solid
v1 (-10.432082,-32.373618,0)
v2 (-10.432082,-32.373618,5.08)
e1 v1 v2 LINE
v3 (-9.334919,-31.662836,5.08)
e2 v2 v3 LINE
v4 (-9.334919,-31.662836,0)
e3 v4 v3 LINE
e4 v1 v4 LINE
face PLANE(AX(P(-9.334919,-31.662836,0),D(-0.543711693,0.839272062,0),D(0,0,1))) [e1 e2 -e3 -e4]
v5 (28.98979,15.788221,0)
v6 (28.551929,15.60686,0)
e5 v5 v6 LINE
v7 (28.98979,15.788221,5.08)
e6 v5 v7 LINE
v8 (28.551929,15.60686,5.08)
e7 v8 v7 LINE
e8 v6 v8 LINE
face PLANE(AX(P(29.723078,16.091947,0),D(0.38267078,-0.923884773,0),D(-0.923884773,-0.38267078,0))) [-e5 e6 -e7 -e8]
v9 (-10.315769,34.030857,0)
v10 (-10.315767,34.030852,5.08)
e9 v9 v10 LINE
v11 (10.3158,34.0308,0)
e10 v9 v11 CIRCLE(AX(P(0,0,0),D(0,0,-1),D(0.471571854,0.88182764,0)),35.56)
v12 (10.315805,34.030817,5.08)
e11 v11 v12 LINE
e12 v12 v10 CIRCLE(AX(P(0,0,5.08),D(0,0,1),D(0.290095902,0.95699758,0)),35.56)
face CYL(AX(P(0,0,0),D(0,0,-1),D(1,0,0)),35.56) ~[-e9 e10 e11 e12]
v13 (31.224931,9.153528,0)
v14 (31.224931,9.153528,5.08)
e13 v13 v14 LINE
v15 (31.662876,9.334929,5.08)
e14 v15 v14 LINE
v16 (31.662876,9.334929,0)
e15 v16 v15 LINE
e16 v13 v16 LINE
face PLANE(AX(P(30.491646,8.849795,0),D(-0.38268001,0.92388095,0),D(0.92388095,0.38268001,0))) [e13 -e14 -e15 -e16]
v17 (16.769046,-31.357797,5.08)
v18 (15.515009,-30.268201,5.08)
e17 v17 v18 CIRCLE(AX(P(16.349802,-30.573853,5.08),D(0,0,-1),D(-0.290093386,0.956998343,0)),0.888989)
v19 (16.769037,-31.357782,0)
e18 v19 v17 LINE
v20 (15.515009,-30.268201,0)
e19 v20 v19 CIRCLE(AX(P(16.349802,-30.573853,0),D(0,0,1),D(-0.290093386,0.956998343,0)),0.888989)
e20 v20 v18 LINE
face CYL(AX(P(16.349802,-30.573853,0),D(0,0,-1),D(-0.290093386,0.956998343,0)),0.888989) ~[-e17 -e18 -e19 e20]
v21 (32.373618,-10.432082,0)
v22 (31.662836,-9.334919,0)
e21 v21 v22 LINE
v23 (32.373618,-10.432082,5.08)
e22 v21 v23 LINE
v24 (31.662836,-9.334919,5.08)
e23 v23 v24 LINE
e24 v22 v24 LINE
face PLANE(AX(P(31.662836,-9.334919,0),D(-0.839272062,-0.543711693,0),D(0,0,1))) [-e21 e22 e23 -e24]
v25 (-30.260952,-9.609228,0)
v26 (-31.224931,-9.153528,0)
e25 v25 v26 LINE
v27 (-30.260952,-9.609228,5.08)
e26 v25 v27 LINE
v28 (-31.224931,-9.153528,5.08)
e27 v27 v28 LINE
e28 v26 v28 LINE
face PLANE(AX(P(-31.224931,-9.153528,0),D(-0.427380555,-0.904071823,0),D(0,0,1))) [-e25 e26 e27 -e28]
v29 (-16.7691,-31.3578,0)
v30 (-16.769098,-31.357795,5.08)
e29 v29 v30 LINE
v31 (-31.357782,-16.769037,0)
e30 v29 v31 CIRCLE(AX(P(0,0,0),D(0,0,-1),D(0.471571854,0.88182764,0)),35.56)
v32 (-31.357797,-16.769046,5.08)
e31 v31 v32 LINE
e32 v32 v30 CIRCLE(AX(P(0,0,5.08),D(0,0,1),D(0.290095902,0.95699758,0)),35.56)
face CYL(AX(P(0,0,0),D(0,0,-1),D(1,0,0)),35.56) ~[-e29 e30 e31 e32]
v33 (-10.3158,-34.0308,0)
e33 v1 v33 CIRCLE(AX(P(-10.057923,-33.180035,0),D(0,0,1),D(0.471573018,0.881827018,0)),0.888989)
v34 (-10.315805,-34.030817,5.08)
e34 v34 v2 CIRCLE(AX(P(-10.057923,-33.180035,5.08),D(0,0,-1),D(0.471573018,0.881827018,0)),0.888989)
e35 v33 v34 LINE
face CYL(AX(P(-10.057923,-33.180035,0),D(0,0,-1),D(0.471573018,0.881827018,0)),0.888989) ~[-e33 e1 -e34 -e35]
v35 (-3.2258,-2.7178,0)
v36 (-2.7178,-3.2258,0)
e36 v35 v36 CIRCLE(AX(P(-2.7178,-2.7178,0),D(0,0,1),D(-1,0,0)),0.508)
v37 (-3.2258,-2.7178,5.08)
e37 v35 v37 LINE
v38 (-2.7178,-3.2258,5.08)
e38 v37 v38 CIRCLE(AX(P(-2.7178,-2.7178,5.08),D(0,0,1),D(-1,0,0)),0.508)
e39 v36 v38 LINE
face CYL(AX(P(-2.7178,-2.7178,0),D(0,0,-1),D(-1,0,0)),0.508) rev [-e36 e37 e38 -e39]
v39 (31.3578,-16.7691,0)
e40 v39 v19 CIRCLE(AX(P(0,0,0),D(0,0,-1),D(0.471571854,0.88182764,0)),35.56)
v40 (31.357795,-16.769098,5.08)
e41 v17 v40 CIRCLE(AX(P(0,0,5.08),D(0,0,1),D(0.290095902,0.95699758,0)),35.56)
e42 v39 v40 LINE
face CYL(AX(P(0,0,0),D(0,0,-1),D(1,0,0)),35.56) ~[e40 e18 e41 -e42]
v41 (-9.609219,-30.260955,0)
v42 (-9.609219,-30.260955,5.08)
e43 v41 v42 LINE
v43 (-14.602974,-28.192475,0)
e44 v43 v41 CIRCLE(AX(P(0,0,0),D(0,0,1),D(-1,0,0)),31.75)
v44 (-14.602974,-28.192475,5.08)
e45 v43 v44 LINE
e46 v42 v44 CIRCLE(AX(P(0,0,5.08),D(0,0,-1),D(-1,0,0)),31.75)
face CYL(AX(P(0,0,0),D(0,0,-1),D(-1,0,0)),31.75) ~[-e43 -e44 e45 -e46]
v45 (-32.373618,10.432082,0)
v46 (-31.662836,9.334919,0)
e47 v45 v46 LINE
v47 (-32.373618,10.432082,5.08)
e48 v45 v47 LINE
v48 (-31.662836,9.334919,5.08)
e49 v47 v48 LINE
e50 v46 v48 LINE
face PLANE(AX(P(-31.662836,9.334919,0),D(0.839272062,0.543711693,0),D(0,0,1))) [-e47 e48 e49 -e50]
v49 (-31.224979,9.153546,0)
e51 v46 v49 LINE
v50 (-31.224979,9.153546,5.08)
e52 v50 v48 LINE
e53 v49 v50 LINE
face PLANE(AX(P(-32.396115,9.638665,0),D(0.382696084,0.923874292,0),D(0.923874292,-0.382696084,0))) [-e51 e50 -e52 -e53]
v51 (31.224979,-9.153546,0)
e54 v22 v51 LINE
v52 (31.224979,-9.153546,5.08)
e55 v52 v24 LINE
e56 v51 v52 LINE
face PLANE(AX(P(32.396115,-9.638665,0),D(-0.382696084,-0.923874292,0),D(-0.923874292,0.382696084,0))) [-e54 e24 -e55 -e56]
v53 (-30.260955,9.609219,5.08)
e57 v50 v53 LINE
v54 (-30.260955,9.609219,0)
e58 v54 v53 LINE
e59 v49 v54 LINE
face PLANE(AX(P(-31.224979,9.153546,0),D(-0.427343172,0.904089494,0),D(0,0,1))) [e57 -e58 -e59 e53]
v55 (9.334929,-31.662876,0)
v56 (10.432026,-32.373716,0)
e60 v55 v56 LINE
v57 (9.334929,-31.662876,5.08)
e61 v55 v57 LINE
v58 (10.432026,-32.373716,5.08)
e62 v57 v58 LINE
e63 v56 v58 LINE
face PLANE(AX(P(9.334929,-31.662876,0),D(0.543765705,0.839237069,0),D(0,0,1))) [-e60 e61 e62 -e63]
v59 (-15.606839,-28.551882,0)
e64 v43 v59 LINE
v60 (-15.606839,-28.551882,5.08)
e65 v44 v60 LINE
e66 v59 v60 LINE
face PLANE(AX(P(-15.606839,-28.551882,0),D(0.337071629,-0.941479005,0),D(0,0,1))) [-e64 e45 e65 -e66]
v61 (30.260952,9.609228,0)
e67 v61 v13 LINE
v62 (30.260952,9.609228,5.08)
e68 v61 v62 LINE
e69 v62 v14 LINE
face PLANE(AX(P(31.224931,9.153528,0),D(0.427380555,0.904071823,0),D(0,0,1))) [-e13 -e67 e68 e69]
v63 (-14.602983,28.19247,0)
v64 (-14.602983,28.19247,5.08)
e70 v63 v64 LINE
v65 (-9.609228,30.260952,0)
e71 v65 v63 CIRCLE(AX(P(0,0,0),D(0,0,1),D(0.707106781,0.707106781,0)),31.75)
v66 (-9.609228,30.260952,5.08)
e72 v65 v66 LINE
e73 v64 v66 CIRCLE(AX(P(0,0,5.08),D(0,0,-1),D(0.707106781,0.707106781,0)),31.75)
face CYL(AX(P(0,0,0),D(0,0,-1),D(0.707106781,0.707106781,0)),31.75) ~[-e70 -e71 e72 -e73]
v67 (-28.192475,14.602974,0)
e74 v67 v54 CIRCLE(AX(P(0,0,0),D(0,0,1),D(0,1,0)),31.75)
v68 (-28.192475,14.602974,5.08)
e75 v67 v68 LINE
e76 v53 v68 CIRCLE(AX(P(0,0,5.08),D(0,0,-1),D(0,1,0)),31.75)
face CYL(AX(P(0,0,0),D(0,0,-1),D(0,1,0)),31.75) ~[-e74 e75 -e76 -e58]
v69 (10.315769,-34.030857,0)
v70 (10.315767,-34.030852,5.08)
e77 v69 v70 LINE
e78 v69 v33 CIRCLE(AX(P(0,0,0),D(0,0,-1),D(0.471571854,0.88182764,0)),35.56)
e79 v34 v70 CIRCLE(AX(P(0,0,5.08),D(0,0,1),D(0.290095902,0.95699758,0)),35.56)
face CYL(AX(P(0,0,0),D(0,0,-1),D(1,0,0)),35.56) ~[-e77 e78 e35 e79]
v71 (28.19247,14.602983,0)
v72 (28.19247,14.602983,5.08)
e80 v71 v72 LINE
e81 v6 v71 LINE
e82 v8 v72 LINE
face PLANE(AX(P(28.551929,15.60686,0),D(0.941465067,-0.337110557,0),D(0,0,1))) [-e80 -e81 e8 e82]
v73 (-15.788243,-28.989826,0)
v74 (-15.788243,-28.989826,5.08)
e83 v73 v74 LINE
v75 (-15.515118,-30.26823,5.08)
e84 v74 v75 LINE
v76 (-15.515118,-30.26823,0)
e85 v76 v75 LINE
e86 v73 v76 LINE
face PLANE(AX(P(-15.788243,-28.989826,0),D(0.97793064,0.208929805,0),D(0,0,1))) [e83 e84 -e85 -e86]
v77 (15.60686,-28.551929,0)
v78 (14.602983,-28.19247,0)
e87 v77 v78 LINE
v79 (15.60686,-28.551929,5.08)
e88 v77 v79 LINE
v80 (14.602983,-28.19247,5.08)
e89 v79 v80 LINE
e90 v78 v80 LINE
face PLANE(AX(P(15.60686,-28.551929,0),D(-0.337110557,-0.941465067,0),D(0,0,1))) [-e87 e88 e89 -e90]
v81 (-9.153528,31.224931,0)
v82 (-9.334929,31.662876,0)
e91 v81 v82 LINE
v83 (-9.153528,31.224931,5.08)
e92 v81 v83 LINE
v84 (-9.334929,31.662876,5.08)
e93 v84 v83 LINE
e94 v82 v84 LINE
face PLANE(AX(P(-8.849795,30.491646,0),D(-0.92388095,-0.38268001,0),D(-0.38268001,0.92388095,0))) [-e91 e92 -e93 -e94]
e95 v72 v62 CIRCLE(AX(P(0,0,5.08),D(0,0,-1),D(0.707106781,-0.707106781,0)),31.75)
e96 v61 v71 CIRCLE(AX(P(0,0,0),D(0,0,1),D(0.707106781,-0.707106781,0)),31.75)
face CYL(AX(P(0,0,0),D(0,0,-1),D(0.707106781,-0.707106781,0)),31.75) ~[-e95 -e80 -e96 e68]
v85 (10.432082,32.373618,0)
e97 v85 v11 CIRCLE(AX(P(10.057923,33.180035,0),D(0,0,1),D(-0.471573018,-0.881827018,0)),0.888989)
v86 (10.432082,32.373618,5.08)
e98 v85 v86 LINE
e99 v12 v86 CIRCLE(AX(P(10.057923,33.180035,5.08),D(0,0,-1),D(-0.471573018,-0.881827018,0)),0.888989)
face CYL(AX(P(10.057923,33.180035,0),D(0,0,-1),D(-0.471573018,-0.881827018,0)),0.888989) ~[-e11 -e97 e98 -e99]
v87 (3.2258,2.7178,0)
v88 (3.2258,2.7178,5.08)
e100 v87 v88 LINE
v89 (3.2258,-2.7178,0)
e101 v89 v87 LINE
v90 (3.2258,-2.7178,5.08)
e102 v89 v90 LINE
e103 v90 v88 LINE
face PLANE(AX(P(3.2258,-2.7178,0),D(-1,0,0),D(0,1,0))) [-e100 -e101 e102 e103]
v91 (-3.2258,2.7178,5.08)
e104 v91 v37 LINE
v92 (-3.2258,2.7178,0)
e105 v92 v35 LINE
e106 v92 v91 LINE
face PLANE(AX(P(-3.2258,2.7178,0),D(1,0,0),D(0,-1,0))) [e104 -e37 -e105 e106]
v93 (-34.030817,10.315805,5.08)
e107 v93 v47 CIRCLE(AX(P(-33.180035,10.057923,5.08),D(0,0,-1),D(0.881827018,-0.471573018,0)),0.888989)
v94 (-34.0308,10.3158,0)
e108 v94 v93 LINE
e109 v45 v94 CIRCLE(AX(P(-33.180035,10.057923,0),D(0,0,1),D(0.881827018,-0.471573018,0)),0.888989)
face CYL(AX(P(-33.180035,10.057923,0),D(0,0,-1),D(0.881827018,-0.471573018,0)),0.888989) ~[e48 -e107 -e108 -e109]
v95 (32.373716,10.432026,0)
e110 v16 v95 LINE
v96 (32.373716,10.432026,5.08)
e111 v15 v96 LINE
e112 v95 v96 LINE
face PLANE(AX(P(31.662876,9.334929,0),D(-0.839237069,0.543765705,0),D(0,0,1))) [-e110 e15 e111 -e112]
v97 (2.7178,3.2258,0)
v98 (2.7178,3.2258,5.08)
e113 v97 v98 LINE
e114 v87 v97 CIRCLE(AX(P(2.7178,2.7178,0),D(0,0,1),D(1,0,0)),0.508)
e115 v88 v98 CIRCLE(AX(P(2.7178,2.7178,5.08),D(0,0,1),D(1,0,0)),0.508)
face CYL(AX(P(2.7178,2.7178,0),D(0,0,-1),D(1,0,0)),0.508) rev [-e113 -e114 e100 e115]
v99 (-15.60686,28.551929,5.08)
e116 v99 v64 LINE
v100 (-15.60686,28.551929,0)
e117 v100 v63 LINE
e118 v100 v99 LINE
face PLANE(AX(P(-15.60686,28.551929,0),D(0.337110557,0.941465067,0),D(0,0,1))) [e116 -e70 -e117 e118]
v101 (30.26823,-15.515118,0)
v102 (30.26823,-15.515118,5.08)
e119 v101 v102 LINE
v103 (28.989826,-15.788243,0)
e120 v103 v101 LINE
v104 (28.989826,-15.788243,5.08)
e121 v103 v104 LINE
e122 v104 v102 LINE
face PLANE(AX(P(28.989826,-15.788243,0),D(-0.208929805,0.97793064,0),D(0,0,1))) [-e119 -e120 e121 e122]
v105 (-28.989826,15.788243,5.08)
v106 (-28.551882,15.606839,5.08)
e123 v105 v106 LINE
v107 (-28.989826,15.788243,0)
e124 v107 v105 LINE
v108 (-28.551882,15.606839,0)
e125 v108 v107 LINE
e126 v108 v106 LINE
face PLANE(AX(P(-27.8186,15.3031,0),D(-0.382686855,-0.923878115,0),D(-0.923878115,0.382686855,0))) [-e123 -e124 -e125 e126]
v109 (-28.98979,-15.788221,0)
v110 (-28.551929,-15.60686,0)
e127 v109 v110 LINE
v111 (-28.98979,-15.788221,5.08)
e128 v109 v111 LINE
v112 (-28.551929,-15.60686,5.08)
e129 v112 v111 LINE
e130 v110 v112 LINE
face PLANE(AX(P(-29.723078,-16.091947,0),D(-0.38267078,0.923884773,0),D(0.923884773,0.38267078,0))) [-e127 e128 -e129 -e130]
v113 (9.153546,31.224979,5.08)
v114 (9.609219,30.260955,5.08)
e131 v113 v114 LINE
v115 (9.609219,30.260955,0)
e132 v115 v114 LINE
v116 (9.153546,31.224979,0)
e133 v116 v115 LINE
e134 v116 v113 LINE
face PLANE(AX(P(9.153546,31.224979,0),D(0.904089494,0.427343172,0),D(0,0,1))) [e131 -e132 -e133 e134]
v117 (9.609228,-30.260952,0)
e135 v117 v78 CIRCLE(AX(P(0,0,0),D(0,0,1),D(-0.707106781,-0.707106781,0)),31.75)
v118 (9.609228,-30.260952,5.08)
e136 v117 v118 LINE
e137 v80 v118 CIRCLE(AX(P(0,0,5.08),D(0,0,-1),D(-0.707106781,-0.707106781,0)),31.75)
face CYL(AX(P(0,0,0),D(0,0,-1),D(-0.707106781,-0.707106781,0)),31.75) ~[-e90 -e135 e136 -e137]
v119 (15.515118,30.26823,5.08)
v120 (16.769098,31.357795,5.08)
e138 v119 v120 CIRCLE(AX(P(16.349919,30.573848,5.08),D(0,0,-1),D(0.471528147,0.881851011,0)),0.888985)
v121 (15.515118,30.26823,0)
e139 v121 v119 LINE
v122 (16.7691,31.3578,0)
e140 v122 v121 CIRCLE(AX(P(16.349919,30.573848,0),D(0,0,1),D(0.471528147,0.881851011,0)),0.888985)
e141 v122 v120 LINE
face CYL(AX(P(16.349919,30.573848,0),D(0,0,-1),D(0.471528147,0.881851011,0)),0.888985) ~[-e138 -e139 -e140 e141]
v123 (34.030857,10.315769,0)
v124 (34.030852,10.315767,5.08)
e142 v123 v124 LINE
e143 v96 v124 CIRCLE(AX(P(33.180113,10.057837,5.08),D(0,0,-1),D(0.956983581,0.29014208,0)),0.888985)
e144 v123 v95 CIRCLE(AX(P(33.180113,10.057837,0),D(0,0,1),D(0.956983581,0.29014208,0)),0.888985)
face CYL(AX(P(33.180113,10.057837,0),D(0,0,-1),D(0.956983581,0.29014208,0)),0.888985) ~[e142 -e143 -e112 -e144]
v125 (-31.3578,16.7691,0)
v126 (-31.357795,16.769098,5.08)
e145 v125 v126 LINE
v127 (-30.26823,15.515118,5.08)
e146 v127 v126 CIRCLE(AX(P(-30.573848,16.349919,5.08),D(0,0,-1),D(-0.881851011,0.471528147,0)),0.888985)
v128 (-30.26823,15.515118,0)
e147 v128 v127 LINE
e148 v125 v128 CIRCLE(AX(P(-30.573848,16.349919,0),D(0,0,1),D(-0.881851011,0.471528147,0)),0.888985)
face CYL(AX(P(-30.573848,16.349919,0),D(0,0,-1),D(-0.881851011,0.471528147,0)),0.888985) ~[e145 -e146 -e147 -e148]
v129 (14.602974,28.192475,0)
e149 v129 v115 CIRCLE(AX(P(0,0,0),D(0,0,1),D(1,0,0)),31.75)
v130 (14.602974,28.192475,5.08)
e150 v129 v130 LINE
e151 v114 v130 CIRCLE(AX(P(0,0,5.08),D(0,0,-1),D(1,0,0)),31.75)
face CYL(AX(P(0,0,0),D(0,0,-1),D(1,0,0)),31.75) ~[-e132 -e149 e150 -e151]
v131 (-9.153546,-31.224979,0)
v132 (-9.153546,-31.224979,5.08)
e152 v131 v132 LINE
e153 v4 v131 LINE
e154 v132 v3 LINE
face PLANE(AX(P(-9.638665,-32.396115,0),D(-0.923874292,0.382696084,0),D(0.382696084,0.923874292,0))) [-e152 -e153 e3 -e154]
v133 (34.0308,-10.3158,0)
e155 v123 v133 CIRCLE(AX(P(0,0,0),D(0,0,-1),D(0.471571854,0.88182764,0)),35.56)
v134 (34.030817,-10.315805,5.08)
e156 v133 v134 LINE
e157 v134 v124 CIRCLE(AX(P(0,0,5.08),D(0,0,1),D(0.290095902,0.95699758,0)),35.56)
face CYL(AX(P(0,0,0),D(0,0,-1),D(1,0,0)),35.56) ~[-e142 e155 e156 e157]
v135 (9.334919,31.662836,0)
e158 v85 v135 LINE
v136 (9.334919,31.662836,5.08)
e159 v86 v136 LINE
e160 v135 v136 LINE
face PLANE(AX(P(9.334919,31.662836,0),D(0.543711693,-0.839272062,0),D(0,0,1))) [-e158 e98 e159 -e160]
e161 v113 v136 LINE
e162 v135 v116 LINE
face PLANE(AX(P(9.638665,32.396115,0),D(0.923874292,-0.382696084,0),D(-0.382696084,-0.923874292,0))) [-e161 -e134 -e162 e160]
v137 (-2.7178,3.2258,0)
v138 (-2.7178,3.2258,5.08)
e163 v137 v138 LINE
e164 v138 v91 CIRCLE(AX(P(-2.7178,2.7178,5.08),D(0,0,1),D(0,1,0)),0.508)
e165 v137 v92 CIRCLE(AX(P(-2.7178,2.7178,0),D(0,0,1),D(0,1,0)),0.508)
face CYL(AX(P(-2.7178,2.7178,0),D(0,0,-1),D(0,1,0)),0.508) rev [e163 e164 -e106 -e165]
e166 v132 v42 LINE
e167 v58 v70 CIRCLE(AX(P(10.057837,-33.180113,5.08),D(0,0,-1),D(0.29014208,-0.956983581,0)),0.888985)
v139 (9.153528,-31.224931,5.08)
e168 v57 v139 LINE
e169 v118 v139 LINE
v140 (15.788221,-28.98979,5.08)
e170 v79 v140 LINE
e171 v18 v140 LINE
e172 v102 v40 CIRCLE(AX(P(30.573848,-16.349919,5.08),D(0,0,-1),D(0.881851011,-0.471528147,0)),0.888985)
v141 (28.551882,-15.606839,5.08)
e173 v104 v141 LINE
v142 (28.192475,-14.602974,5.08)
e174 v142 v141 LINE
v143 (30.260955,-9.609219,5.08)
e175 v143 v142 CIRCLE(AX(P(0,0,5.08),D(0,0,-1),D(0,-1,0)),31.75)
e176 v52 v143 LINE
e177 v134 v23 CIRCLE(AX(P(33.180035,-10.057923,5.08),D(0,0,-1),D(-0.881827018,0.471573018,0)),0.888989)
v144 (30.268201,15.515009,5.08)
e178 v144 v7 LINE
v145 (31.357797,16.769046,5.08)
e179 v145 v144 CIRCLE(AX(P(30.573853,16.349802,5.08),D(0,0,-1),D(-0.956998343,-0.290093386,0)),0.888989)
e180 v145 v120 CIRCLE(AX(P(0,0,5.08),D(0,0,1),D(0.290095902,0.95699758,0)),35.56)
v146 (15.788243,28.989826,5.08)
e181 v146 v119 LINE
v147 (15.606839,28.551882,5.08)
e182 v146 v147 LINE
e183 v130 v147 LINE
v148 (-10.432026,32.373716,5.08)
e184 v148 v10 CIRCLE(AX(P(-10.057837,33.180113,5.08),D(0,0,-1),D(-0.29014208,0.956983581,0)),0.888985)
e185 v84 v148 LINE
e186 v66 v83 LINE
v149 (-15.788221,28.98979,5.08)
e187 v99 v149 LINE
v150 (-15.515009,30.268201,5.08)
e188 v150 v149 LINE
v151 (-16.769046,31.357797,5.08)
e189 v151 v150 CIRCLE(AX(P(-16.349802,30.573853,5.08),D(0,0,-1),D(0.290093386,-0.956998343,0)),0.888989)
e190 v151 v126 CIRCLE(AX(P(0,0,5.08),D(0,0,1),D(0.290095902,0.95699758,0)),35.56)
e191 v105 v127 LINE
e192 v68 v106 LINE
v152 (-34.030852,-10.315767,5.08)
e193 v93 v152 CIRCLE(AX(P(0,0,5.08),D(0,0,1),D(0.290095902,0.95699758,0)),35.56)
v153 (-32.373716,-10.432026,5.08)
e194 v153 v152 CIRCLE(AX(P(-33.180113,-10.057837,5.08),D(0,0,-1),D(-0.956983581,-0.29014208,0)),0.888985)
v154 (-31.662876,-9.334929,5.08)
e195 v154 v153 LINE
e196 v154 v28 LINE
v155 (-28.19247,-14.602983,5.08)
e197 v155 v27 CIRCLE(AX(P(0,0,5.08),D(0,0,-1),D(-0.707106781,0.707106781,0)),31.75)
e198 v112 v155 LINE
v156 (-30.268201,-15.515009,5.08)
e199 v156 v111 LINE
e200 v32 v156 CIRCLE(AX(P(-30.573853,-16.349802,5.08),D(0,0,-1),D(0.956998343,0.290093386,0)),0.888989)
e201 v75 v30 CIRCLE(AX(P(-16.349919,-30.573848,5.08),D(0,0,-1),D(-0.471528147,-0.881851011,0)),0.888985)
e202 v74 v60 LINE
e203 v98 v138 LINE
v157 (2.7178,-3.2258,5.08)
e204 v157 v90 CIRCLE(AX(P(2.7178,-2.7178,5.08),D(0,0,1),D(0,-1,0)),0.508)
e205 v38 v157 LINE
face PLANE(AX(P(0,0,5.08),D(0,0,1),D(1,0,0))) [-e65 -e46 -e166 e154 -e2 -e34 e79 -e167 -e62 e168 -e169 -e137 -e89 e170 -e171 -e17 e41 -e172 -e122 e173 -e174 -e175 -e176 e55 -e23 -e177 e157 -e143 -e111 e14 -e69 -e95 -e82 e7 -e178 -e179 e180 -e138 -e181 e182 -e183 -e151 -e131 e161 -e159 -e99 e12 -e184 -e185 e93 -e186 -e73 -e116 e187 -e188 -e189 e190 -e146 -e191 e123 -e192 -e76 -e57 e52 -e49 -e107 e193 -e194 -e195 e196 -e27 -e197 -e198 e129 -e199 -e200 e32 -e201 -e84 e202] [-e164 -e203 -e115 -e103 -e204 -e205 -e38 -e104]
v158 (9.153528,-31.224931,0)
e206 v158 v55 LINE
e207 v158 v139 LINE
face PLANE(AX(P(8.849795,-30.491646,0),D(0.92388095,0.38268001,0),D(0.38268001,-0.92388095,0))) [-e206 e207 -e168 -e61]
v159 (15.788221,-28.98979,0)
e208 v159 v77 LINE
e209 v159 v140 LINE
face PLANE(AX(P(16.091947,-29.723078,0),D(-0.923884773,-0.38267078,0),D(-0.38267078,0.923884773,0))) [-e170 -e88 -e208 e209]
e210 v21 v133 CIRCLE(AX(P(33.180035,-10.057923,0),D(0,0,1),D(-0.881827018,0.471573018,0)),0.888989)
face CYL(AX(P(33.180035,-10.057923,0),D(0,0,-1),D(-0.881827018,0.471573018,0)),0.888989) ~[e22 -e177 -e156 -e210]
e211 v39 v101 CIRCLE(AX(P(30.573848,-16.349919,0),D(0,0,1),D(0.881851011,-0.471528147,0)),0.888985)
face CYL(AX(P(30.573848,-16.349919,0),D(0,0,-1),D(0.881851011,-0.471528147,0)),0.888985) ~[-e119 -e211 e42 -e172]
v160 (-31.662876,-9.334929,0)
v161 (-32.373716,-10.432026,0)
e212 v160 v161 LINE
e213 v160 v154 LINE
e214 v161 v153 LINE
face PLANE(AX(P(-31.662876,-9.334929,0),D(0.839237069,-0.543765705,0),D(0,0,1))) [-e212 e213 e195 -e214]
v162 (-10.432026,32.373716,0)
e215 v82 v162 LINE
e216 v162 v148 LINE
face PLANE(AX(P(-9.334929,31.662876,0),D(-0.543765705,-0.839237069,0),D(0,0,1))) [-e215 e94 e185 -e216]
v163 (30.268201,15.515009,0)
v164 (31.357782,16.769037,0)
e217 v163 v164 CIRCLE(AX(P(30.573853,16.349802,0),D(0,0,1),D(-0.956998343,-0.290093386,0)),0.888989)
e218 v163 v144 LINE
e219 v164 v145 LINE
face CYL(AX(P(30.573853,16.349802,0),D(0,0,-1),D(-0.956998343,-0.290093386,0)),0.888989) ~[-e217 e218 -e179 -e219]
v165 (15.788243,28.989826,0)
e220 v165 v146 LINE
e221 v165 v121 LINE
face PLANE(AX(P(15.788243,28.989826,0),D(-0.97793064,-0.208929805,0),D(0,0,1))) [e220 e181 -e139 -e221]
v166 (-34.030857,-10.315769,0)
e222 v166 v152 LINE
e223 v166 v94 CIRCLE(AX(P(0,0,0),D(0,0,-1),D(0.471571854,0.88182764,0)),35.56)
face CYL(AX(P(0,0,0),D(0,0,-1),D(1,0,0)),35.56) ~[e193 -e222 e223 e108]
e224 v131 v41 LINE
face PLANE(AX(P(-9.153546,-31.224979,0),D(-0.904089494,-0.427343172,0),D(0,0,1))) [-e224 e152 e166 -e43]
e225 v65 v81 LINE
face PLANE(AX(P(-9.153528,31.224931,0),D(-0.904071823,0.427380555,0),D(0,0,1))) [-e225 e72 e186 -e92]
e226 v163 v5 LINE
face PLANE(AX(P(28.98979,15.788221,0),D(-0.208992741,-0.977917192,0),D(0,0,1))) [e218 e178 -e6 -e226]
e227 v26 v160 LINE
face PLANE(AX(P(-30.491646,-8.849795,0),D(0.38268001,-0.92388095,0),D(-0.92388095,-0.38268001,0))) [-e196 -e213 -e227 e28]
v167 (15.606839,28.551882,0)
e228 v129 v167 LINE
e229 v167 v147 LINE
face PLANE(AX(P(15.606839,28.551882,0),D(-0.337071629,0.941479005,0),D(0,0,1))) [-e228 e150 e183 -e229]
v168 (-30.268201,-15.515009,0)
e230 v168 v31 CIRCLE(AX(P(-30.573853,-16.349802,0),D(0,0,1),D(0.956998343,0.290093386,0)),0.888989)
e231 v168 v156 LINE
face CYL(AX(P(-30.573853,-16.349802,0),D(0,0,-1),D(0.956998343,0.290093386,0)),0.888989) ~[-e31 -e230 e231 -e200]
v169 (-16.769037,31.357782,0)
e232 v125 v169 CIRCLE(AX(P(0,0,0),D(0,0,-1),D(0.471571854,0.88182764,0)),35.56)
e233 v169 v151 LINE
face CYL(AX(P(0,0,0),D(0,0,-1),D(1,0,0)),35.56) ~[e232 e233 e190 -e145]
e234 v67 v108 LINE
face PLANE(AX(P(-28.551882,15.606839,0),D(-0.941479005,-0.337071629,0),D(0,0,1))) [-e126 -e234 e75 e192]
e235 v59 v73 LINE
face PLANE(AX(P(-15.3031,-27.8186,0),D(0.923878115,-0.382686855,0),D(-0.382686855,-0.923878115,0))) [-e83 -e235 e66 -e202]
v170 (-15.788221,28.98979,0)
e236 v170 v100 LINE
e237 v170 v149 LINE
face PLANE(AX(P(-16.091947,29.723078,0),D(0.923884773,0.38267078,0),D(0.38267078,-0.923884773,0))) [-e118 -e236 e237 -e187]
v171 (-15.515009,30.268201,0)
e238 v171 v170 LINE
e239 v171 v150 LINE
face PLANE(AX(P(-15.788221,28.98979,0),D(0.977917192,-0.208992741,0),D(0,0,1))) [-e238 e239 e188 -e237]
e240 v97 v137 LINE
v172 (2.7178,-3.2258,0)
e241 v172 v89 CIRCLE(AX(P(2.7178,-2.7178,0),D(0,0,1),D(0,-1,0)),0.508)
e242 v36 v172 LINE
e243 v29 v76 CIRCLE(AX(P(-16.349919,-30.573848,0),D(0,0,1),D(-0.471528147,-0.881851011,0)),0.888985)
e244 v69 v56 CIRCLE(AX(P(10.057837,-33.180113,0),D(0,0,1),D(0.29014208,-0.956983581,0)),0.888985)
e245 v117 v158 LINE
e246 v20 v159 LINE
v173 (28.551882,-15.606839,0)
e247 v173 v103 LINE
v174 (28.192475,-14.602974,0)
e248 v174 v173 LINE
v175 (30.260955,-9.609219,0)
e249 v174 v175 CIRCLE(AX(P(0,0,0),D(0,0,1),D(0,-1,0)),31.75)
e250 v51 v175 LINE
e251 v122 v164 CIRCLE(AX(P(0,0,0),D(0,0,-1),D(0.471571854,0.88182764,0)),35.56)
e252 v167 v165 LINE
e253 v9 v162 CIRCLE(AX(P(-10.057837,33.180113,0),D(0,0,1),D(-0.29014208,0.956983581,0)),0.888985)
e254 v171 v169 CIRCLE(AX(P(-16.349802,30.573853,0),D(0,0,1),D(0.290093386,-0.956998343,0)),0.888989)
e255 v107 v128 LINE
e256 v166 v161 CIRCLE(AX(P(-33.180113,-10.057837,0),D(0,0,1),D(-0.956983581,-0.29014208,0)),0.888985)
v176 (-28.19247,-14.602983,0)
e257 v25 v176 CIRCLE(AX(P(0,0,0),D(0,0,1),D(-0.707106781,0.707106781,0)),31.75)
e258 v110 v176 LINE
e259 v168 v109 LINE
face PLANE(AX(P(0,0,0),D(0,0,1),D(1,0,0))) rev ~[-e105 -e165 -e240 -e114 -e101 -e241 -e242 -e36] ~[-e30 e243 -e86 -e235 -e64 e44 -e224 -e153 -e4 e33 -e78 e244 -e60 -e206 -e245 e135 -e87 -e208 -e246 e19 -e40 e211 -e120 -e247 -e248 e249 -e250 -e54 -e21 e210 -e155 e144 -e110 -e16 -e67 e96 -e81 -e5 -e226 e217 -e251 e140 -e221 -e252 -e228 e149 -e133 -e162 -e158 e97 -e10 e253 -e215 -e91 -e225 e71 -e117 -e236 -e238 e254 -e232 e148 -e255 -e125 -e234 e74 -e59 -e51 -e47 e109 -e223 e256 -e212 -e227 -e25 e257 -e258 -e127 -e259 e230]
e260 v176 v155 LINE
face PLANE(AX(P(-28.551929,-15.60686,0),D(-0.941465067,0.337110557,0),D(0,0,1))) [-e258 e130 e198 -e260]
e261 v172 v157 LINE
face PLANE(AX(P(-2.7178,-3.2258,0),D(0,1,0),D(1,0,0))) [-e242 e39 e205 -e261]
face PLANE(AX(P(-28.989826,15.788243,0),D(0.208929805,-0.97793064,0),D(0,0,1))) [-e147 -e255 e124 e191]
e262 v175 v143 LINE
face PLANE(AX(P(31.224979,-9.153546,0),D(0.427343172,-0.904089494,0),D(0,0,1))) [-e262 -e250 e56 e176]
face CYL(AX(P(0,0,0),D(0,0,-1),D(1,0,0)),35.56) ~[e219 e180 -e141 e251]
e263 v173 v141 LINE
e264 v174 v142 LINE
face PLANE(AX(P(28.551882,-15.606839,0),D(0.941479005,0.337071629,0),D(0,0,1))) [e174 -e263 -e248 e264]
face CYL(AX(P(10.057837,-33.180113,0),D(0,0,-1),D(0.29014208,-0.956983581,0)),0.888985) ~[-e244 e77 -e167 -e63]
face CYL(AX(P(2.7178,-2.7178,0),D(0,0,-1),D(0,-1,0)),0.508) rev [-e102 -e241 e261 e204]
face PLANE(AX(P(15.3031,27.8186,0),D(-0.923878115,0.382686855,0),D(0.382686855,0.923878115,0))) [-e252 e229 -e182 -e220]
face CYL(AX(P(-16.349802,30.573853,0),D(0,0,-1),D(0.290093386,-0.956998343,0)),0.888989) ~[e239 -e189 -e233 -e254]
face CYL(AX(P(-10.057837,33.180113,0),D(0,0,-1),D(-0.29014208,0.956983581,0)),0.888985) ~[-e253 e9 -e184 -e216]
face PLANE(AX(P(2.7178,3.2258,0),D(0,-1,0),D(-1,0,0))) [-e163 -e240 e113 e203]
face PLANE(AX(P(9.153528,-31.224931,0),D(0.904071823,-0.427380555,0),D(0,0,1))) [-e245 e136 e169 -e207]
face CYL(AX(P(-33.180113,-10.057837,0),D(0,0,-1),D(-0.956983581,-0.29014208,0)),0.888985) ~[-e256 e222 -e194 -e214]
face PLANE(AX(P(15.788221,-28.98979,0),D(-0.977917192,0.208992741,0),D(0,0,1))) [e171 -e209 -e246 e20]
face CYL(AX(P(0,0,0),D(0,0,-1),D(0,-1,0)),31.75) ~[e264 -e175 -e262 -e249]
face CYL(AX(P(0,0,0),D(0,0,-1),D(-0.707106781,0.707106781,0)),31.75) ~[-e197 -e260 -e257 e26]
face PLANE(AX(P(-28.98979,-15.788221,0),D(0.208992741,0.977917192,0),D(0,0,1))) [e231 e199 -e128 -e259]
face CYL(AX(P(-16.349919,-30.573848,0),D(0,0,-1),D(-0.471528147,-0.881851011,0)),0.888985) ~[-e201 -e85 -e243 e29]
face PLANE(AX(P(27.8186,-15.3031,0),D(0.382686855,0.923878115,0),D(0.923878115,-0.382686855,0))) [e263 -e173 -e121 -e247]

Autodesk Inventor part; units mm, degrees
ref_plane "YZ Plane" through (0, 0, 0) normal (1, 0, 0) x (0, 1, 0)
ref_plane "XZ Plane" through (0, 0, 0) normal (0, 1, 0) x (-1, 0, 0)
ref_plane "XY Plane" through (0, 0, 0) normal (0, 0, 1) x (1, 0, 0)
sketch "Sketch1" plane through (0, 0, 0) normal (0, 0, 1) x (1, 0, 0)
  circle A0 centre (0, 0) radius 31.75
  line L0 (-2.7178, -3.2258) -> (2.7178, -3.2258)
  line L1 (3.2258, -2.7178) -> (3.2258, 2.7178)
  line L2 (2.7178, 3.2258) -> (-2.7178, 3.2258)
  line L3 (-3.2258, 2.7178) -> (-3.2258, -2.7178)
  line L4 (-3.2258, -3.2258) -> (3.2258, 3.2258) construction
  line L5 (3.2258, -3.2258) -> (-3.2258, 3.2258) construction
  arc A1 (-2.7178, 3.2258) -> (-3.2258, 2.7178) centre (-2.7178, 2.7178) ccw
  arc A2 (3.2258, 2.7178) -> (2.7178, 3.2258) centre (2.7178, 2.7178) ccw
  arc A3 (2.7178, -3.2258) -> (3.2258, -2.7178) centre (2.7178, -2.7178) ccw
  arc A4 (-3.2258, -2.7178) -> (-2.7178, -3.2258) centre (-2.7178, -2.7178) ccw
  line L6 (-12.1502, 29.3332) -> (-12.1502, -29.3332) construction
  line L7 (12.1502, 29.3332) -> (12.1502, -29.3332) construction
  line L8 (29.3332, 12.1502) -> (-29.3332, 12.1502) construction
  line L9 (-29.3332, -12.1502) -> (29.3332, -12.1502) construction
  line L10 (12.1502, 29.3332) -> (29.3332, 12.1502) construction
  line L11 (29.3332, 12.1502) -> (29.3332, -12.1502) construction
  line L12 (29.3332, -12.1502) -> (12.1502, -29.3332) construction
  line L13 (12.1502, -29.3332) -> (-12.1502, -29.3332) construction
  line L14 (-12.1502, -29.3332) -> (-29.3332, -12.1502) construction
  line L15 (-29.3332, -12.1502) -> (-29.3332, 12.1502) construction
  line L16 (-29.3332, 12.1502) -> (-12.1502, 29.3332) construction
  line L17 (-12.1502, 29.3332) -> (12.1502, 29.3332) construction
  circle A5 centre (0, 0) radius 35.56
  line L18 (0, 0) -> (13.6082, 32.8532) construction
  line L19 (10.3158, 34.0308) -> (8.8498, 30.4917)
  line L20 (15.3031, 27.8186) -> (16.7691, 31.3578)
  arc A6 (9.6387, 32.3961) -> (10.3158, 34.0308) centre (10.0579, 33.1801) ccw
  arc A7 (16.7691, 31.3578) -> (16.092, 29.7231) centre (16.3499, 30.5739) ccw
  point P0 (16.092, 29.7231)
  dimension "d4" = 63.5
  dimension "d2" = 0.508
  dimension "d3" = 6.4516
  dimension "d9" = 6.985
  dimension "d10" = 3.81
  dimension "d11" = 0.889
extrude "Extrusion1" add sketch "Sketch1" along normal blind 5.08
extrude "Extrusion2" cut sketch "Sketch1" along normal through all contours A0 L19 A6 A5 A7 L20
chamfer "Chamfer2" distance 0.7937 angle 45 4 edges at (9.6387, 32.3961, 2.54) (8.8498, 30.4917, 2.54) (15.3031, 27.8186, 2.54) (16.092, 29.7231, 2.54)
pattern_circular "Circular Pattern1" count 8 over 360 about axis through (0, 0, 0) along (0, 0, 1) of "Extrusion2", "Chamfer2"
properties part number "2in rubberband wheel"
